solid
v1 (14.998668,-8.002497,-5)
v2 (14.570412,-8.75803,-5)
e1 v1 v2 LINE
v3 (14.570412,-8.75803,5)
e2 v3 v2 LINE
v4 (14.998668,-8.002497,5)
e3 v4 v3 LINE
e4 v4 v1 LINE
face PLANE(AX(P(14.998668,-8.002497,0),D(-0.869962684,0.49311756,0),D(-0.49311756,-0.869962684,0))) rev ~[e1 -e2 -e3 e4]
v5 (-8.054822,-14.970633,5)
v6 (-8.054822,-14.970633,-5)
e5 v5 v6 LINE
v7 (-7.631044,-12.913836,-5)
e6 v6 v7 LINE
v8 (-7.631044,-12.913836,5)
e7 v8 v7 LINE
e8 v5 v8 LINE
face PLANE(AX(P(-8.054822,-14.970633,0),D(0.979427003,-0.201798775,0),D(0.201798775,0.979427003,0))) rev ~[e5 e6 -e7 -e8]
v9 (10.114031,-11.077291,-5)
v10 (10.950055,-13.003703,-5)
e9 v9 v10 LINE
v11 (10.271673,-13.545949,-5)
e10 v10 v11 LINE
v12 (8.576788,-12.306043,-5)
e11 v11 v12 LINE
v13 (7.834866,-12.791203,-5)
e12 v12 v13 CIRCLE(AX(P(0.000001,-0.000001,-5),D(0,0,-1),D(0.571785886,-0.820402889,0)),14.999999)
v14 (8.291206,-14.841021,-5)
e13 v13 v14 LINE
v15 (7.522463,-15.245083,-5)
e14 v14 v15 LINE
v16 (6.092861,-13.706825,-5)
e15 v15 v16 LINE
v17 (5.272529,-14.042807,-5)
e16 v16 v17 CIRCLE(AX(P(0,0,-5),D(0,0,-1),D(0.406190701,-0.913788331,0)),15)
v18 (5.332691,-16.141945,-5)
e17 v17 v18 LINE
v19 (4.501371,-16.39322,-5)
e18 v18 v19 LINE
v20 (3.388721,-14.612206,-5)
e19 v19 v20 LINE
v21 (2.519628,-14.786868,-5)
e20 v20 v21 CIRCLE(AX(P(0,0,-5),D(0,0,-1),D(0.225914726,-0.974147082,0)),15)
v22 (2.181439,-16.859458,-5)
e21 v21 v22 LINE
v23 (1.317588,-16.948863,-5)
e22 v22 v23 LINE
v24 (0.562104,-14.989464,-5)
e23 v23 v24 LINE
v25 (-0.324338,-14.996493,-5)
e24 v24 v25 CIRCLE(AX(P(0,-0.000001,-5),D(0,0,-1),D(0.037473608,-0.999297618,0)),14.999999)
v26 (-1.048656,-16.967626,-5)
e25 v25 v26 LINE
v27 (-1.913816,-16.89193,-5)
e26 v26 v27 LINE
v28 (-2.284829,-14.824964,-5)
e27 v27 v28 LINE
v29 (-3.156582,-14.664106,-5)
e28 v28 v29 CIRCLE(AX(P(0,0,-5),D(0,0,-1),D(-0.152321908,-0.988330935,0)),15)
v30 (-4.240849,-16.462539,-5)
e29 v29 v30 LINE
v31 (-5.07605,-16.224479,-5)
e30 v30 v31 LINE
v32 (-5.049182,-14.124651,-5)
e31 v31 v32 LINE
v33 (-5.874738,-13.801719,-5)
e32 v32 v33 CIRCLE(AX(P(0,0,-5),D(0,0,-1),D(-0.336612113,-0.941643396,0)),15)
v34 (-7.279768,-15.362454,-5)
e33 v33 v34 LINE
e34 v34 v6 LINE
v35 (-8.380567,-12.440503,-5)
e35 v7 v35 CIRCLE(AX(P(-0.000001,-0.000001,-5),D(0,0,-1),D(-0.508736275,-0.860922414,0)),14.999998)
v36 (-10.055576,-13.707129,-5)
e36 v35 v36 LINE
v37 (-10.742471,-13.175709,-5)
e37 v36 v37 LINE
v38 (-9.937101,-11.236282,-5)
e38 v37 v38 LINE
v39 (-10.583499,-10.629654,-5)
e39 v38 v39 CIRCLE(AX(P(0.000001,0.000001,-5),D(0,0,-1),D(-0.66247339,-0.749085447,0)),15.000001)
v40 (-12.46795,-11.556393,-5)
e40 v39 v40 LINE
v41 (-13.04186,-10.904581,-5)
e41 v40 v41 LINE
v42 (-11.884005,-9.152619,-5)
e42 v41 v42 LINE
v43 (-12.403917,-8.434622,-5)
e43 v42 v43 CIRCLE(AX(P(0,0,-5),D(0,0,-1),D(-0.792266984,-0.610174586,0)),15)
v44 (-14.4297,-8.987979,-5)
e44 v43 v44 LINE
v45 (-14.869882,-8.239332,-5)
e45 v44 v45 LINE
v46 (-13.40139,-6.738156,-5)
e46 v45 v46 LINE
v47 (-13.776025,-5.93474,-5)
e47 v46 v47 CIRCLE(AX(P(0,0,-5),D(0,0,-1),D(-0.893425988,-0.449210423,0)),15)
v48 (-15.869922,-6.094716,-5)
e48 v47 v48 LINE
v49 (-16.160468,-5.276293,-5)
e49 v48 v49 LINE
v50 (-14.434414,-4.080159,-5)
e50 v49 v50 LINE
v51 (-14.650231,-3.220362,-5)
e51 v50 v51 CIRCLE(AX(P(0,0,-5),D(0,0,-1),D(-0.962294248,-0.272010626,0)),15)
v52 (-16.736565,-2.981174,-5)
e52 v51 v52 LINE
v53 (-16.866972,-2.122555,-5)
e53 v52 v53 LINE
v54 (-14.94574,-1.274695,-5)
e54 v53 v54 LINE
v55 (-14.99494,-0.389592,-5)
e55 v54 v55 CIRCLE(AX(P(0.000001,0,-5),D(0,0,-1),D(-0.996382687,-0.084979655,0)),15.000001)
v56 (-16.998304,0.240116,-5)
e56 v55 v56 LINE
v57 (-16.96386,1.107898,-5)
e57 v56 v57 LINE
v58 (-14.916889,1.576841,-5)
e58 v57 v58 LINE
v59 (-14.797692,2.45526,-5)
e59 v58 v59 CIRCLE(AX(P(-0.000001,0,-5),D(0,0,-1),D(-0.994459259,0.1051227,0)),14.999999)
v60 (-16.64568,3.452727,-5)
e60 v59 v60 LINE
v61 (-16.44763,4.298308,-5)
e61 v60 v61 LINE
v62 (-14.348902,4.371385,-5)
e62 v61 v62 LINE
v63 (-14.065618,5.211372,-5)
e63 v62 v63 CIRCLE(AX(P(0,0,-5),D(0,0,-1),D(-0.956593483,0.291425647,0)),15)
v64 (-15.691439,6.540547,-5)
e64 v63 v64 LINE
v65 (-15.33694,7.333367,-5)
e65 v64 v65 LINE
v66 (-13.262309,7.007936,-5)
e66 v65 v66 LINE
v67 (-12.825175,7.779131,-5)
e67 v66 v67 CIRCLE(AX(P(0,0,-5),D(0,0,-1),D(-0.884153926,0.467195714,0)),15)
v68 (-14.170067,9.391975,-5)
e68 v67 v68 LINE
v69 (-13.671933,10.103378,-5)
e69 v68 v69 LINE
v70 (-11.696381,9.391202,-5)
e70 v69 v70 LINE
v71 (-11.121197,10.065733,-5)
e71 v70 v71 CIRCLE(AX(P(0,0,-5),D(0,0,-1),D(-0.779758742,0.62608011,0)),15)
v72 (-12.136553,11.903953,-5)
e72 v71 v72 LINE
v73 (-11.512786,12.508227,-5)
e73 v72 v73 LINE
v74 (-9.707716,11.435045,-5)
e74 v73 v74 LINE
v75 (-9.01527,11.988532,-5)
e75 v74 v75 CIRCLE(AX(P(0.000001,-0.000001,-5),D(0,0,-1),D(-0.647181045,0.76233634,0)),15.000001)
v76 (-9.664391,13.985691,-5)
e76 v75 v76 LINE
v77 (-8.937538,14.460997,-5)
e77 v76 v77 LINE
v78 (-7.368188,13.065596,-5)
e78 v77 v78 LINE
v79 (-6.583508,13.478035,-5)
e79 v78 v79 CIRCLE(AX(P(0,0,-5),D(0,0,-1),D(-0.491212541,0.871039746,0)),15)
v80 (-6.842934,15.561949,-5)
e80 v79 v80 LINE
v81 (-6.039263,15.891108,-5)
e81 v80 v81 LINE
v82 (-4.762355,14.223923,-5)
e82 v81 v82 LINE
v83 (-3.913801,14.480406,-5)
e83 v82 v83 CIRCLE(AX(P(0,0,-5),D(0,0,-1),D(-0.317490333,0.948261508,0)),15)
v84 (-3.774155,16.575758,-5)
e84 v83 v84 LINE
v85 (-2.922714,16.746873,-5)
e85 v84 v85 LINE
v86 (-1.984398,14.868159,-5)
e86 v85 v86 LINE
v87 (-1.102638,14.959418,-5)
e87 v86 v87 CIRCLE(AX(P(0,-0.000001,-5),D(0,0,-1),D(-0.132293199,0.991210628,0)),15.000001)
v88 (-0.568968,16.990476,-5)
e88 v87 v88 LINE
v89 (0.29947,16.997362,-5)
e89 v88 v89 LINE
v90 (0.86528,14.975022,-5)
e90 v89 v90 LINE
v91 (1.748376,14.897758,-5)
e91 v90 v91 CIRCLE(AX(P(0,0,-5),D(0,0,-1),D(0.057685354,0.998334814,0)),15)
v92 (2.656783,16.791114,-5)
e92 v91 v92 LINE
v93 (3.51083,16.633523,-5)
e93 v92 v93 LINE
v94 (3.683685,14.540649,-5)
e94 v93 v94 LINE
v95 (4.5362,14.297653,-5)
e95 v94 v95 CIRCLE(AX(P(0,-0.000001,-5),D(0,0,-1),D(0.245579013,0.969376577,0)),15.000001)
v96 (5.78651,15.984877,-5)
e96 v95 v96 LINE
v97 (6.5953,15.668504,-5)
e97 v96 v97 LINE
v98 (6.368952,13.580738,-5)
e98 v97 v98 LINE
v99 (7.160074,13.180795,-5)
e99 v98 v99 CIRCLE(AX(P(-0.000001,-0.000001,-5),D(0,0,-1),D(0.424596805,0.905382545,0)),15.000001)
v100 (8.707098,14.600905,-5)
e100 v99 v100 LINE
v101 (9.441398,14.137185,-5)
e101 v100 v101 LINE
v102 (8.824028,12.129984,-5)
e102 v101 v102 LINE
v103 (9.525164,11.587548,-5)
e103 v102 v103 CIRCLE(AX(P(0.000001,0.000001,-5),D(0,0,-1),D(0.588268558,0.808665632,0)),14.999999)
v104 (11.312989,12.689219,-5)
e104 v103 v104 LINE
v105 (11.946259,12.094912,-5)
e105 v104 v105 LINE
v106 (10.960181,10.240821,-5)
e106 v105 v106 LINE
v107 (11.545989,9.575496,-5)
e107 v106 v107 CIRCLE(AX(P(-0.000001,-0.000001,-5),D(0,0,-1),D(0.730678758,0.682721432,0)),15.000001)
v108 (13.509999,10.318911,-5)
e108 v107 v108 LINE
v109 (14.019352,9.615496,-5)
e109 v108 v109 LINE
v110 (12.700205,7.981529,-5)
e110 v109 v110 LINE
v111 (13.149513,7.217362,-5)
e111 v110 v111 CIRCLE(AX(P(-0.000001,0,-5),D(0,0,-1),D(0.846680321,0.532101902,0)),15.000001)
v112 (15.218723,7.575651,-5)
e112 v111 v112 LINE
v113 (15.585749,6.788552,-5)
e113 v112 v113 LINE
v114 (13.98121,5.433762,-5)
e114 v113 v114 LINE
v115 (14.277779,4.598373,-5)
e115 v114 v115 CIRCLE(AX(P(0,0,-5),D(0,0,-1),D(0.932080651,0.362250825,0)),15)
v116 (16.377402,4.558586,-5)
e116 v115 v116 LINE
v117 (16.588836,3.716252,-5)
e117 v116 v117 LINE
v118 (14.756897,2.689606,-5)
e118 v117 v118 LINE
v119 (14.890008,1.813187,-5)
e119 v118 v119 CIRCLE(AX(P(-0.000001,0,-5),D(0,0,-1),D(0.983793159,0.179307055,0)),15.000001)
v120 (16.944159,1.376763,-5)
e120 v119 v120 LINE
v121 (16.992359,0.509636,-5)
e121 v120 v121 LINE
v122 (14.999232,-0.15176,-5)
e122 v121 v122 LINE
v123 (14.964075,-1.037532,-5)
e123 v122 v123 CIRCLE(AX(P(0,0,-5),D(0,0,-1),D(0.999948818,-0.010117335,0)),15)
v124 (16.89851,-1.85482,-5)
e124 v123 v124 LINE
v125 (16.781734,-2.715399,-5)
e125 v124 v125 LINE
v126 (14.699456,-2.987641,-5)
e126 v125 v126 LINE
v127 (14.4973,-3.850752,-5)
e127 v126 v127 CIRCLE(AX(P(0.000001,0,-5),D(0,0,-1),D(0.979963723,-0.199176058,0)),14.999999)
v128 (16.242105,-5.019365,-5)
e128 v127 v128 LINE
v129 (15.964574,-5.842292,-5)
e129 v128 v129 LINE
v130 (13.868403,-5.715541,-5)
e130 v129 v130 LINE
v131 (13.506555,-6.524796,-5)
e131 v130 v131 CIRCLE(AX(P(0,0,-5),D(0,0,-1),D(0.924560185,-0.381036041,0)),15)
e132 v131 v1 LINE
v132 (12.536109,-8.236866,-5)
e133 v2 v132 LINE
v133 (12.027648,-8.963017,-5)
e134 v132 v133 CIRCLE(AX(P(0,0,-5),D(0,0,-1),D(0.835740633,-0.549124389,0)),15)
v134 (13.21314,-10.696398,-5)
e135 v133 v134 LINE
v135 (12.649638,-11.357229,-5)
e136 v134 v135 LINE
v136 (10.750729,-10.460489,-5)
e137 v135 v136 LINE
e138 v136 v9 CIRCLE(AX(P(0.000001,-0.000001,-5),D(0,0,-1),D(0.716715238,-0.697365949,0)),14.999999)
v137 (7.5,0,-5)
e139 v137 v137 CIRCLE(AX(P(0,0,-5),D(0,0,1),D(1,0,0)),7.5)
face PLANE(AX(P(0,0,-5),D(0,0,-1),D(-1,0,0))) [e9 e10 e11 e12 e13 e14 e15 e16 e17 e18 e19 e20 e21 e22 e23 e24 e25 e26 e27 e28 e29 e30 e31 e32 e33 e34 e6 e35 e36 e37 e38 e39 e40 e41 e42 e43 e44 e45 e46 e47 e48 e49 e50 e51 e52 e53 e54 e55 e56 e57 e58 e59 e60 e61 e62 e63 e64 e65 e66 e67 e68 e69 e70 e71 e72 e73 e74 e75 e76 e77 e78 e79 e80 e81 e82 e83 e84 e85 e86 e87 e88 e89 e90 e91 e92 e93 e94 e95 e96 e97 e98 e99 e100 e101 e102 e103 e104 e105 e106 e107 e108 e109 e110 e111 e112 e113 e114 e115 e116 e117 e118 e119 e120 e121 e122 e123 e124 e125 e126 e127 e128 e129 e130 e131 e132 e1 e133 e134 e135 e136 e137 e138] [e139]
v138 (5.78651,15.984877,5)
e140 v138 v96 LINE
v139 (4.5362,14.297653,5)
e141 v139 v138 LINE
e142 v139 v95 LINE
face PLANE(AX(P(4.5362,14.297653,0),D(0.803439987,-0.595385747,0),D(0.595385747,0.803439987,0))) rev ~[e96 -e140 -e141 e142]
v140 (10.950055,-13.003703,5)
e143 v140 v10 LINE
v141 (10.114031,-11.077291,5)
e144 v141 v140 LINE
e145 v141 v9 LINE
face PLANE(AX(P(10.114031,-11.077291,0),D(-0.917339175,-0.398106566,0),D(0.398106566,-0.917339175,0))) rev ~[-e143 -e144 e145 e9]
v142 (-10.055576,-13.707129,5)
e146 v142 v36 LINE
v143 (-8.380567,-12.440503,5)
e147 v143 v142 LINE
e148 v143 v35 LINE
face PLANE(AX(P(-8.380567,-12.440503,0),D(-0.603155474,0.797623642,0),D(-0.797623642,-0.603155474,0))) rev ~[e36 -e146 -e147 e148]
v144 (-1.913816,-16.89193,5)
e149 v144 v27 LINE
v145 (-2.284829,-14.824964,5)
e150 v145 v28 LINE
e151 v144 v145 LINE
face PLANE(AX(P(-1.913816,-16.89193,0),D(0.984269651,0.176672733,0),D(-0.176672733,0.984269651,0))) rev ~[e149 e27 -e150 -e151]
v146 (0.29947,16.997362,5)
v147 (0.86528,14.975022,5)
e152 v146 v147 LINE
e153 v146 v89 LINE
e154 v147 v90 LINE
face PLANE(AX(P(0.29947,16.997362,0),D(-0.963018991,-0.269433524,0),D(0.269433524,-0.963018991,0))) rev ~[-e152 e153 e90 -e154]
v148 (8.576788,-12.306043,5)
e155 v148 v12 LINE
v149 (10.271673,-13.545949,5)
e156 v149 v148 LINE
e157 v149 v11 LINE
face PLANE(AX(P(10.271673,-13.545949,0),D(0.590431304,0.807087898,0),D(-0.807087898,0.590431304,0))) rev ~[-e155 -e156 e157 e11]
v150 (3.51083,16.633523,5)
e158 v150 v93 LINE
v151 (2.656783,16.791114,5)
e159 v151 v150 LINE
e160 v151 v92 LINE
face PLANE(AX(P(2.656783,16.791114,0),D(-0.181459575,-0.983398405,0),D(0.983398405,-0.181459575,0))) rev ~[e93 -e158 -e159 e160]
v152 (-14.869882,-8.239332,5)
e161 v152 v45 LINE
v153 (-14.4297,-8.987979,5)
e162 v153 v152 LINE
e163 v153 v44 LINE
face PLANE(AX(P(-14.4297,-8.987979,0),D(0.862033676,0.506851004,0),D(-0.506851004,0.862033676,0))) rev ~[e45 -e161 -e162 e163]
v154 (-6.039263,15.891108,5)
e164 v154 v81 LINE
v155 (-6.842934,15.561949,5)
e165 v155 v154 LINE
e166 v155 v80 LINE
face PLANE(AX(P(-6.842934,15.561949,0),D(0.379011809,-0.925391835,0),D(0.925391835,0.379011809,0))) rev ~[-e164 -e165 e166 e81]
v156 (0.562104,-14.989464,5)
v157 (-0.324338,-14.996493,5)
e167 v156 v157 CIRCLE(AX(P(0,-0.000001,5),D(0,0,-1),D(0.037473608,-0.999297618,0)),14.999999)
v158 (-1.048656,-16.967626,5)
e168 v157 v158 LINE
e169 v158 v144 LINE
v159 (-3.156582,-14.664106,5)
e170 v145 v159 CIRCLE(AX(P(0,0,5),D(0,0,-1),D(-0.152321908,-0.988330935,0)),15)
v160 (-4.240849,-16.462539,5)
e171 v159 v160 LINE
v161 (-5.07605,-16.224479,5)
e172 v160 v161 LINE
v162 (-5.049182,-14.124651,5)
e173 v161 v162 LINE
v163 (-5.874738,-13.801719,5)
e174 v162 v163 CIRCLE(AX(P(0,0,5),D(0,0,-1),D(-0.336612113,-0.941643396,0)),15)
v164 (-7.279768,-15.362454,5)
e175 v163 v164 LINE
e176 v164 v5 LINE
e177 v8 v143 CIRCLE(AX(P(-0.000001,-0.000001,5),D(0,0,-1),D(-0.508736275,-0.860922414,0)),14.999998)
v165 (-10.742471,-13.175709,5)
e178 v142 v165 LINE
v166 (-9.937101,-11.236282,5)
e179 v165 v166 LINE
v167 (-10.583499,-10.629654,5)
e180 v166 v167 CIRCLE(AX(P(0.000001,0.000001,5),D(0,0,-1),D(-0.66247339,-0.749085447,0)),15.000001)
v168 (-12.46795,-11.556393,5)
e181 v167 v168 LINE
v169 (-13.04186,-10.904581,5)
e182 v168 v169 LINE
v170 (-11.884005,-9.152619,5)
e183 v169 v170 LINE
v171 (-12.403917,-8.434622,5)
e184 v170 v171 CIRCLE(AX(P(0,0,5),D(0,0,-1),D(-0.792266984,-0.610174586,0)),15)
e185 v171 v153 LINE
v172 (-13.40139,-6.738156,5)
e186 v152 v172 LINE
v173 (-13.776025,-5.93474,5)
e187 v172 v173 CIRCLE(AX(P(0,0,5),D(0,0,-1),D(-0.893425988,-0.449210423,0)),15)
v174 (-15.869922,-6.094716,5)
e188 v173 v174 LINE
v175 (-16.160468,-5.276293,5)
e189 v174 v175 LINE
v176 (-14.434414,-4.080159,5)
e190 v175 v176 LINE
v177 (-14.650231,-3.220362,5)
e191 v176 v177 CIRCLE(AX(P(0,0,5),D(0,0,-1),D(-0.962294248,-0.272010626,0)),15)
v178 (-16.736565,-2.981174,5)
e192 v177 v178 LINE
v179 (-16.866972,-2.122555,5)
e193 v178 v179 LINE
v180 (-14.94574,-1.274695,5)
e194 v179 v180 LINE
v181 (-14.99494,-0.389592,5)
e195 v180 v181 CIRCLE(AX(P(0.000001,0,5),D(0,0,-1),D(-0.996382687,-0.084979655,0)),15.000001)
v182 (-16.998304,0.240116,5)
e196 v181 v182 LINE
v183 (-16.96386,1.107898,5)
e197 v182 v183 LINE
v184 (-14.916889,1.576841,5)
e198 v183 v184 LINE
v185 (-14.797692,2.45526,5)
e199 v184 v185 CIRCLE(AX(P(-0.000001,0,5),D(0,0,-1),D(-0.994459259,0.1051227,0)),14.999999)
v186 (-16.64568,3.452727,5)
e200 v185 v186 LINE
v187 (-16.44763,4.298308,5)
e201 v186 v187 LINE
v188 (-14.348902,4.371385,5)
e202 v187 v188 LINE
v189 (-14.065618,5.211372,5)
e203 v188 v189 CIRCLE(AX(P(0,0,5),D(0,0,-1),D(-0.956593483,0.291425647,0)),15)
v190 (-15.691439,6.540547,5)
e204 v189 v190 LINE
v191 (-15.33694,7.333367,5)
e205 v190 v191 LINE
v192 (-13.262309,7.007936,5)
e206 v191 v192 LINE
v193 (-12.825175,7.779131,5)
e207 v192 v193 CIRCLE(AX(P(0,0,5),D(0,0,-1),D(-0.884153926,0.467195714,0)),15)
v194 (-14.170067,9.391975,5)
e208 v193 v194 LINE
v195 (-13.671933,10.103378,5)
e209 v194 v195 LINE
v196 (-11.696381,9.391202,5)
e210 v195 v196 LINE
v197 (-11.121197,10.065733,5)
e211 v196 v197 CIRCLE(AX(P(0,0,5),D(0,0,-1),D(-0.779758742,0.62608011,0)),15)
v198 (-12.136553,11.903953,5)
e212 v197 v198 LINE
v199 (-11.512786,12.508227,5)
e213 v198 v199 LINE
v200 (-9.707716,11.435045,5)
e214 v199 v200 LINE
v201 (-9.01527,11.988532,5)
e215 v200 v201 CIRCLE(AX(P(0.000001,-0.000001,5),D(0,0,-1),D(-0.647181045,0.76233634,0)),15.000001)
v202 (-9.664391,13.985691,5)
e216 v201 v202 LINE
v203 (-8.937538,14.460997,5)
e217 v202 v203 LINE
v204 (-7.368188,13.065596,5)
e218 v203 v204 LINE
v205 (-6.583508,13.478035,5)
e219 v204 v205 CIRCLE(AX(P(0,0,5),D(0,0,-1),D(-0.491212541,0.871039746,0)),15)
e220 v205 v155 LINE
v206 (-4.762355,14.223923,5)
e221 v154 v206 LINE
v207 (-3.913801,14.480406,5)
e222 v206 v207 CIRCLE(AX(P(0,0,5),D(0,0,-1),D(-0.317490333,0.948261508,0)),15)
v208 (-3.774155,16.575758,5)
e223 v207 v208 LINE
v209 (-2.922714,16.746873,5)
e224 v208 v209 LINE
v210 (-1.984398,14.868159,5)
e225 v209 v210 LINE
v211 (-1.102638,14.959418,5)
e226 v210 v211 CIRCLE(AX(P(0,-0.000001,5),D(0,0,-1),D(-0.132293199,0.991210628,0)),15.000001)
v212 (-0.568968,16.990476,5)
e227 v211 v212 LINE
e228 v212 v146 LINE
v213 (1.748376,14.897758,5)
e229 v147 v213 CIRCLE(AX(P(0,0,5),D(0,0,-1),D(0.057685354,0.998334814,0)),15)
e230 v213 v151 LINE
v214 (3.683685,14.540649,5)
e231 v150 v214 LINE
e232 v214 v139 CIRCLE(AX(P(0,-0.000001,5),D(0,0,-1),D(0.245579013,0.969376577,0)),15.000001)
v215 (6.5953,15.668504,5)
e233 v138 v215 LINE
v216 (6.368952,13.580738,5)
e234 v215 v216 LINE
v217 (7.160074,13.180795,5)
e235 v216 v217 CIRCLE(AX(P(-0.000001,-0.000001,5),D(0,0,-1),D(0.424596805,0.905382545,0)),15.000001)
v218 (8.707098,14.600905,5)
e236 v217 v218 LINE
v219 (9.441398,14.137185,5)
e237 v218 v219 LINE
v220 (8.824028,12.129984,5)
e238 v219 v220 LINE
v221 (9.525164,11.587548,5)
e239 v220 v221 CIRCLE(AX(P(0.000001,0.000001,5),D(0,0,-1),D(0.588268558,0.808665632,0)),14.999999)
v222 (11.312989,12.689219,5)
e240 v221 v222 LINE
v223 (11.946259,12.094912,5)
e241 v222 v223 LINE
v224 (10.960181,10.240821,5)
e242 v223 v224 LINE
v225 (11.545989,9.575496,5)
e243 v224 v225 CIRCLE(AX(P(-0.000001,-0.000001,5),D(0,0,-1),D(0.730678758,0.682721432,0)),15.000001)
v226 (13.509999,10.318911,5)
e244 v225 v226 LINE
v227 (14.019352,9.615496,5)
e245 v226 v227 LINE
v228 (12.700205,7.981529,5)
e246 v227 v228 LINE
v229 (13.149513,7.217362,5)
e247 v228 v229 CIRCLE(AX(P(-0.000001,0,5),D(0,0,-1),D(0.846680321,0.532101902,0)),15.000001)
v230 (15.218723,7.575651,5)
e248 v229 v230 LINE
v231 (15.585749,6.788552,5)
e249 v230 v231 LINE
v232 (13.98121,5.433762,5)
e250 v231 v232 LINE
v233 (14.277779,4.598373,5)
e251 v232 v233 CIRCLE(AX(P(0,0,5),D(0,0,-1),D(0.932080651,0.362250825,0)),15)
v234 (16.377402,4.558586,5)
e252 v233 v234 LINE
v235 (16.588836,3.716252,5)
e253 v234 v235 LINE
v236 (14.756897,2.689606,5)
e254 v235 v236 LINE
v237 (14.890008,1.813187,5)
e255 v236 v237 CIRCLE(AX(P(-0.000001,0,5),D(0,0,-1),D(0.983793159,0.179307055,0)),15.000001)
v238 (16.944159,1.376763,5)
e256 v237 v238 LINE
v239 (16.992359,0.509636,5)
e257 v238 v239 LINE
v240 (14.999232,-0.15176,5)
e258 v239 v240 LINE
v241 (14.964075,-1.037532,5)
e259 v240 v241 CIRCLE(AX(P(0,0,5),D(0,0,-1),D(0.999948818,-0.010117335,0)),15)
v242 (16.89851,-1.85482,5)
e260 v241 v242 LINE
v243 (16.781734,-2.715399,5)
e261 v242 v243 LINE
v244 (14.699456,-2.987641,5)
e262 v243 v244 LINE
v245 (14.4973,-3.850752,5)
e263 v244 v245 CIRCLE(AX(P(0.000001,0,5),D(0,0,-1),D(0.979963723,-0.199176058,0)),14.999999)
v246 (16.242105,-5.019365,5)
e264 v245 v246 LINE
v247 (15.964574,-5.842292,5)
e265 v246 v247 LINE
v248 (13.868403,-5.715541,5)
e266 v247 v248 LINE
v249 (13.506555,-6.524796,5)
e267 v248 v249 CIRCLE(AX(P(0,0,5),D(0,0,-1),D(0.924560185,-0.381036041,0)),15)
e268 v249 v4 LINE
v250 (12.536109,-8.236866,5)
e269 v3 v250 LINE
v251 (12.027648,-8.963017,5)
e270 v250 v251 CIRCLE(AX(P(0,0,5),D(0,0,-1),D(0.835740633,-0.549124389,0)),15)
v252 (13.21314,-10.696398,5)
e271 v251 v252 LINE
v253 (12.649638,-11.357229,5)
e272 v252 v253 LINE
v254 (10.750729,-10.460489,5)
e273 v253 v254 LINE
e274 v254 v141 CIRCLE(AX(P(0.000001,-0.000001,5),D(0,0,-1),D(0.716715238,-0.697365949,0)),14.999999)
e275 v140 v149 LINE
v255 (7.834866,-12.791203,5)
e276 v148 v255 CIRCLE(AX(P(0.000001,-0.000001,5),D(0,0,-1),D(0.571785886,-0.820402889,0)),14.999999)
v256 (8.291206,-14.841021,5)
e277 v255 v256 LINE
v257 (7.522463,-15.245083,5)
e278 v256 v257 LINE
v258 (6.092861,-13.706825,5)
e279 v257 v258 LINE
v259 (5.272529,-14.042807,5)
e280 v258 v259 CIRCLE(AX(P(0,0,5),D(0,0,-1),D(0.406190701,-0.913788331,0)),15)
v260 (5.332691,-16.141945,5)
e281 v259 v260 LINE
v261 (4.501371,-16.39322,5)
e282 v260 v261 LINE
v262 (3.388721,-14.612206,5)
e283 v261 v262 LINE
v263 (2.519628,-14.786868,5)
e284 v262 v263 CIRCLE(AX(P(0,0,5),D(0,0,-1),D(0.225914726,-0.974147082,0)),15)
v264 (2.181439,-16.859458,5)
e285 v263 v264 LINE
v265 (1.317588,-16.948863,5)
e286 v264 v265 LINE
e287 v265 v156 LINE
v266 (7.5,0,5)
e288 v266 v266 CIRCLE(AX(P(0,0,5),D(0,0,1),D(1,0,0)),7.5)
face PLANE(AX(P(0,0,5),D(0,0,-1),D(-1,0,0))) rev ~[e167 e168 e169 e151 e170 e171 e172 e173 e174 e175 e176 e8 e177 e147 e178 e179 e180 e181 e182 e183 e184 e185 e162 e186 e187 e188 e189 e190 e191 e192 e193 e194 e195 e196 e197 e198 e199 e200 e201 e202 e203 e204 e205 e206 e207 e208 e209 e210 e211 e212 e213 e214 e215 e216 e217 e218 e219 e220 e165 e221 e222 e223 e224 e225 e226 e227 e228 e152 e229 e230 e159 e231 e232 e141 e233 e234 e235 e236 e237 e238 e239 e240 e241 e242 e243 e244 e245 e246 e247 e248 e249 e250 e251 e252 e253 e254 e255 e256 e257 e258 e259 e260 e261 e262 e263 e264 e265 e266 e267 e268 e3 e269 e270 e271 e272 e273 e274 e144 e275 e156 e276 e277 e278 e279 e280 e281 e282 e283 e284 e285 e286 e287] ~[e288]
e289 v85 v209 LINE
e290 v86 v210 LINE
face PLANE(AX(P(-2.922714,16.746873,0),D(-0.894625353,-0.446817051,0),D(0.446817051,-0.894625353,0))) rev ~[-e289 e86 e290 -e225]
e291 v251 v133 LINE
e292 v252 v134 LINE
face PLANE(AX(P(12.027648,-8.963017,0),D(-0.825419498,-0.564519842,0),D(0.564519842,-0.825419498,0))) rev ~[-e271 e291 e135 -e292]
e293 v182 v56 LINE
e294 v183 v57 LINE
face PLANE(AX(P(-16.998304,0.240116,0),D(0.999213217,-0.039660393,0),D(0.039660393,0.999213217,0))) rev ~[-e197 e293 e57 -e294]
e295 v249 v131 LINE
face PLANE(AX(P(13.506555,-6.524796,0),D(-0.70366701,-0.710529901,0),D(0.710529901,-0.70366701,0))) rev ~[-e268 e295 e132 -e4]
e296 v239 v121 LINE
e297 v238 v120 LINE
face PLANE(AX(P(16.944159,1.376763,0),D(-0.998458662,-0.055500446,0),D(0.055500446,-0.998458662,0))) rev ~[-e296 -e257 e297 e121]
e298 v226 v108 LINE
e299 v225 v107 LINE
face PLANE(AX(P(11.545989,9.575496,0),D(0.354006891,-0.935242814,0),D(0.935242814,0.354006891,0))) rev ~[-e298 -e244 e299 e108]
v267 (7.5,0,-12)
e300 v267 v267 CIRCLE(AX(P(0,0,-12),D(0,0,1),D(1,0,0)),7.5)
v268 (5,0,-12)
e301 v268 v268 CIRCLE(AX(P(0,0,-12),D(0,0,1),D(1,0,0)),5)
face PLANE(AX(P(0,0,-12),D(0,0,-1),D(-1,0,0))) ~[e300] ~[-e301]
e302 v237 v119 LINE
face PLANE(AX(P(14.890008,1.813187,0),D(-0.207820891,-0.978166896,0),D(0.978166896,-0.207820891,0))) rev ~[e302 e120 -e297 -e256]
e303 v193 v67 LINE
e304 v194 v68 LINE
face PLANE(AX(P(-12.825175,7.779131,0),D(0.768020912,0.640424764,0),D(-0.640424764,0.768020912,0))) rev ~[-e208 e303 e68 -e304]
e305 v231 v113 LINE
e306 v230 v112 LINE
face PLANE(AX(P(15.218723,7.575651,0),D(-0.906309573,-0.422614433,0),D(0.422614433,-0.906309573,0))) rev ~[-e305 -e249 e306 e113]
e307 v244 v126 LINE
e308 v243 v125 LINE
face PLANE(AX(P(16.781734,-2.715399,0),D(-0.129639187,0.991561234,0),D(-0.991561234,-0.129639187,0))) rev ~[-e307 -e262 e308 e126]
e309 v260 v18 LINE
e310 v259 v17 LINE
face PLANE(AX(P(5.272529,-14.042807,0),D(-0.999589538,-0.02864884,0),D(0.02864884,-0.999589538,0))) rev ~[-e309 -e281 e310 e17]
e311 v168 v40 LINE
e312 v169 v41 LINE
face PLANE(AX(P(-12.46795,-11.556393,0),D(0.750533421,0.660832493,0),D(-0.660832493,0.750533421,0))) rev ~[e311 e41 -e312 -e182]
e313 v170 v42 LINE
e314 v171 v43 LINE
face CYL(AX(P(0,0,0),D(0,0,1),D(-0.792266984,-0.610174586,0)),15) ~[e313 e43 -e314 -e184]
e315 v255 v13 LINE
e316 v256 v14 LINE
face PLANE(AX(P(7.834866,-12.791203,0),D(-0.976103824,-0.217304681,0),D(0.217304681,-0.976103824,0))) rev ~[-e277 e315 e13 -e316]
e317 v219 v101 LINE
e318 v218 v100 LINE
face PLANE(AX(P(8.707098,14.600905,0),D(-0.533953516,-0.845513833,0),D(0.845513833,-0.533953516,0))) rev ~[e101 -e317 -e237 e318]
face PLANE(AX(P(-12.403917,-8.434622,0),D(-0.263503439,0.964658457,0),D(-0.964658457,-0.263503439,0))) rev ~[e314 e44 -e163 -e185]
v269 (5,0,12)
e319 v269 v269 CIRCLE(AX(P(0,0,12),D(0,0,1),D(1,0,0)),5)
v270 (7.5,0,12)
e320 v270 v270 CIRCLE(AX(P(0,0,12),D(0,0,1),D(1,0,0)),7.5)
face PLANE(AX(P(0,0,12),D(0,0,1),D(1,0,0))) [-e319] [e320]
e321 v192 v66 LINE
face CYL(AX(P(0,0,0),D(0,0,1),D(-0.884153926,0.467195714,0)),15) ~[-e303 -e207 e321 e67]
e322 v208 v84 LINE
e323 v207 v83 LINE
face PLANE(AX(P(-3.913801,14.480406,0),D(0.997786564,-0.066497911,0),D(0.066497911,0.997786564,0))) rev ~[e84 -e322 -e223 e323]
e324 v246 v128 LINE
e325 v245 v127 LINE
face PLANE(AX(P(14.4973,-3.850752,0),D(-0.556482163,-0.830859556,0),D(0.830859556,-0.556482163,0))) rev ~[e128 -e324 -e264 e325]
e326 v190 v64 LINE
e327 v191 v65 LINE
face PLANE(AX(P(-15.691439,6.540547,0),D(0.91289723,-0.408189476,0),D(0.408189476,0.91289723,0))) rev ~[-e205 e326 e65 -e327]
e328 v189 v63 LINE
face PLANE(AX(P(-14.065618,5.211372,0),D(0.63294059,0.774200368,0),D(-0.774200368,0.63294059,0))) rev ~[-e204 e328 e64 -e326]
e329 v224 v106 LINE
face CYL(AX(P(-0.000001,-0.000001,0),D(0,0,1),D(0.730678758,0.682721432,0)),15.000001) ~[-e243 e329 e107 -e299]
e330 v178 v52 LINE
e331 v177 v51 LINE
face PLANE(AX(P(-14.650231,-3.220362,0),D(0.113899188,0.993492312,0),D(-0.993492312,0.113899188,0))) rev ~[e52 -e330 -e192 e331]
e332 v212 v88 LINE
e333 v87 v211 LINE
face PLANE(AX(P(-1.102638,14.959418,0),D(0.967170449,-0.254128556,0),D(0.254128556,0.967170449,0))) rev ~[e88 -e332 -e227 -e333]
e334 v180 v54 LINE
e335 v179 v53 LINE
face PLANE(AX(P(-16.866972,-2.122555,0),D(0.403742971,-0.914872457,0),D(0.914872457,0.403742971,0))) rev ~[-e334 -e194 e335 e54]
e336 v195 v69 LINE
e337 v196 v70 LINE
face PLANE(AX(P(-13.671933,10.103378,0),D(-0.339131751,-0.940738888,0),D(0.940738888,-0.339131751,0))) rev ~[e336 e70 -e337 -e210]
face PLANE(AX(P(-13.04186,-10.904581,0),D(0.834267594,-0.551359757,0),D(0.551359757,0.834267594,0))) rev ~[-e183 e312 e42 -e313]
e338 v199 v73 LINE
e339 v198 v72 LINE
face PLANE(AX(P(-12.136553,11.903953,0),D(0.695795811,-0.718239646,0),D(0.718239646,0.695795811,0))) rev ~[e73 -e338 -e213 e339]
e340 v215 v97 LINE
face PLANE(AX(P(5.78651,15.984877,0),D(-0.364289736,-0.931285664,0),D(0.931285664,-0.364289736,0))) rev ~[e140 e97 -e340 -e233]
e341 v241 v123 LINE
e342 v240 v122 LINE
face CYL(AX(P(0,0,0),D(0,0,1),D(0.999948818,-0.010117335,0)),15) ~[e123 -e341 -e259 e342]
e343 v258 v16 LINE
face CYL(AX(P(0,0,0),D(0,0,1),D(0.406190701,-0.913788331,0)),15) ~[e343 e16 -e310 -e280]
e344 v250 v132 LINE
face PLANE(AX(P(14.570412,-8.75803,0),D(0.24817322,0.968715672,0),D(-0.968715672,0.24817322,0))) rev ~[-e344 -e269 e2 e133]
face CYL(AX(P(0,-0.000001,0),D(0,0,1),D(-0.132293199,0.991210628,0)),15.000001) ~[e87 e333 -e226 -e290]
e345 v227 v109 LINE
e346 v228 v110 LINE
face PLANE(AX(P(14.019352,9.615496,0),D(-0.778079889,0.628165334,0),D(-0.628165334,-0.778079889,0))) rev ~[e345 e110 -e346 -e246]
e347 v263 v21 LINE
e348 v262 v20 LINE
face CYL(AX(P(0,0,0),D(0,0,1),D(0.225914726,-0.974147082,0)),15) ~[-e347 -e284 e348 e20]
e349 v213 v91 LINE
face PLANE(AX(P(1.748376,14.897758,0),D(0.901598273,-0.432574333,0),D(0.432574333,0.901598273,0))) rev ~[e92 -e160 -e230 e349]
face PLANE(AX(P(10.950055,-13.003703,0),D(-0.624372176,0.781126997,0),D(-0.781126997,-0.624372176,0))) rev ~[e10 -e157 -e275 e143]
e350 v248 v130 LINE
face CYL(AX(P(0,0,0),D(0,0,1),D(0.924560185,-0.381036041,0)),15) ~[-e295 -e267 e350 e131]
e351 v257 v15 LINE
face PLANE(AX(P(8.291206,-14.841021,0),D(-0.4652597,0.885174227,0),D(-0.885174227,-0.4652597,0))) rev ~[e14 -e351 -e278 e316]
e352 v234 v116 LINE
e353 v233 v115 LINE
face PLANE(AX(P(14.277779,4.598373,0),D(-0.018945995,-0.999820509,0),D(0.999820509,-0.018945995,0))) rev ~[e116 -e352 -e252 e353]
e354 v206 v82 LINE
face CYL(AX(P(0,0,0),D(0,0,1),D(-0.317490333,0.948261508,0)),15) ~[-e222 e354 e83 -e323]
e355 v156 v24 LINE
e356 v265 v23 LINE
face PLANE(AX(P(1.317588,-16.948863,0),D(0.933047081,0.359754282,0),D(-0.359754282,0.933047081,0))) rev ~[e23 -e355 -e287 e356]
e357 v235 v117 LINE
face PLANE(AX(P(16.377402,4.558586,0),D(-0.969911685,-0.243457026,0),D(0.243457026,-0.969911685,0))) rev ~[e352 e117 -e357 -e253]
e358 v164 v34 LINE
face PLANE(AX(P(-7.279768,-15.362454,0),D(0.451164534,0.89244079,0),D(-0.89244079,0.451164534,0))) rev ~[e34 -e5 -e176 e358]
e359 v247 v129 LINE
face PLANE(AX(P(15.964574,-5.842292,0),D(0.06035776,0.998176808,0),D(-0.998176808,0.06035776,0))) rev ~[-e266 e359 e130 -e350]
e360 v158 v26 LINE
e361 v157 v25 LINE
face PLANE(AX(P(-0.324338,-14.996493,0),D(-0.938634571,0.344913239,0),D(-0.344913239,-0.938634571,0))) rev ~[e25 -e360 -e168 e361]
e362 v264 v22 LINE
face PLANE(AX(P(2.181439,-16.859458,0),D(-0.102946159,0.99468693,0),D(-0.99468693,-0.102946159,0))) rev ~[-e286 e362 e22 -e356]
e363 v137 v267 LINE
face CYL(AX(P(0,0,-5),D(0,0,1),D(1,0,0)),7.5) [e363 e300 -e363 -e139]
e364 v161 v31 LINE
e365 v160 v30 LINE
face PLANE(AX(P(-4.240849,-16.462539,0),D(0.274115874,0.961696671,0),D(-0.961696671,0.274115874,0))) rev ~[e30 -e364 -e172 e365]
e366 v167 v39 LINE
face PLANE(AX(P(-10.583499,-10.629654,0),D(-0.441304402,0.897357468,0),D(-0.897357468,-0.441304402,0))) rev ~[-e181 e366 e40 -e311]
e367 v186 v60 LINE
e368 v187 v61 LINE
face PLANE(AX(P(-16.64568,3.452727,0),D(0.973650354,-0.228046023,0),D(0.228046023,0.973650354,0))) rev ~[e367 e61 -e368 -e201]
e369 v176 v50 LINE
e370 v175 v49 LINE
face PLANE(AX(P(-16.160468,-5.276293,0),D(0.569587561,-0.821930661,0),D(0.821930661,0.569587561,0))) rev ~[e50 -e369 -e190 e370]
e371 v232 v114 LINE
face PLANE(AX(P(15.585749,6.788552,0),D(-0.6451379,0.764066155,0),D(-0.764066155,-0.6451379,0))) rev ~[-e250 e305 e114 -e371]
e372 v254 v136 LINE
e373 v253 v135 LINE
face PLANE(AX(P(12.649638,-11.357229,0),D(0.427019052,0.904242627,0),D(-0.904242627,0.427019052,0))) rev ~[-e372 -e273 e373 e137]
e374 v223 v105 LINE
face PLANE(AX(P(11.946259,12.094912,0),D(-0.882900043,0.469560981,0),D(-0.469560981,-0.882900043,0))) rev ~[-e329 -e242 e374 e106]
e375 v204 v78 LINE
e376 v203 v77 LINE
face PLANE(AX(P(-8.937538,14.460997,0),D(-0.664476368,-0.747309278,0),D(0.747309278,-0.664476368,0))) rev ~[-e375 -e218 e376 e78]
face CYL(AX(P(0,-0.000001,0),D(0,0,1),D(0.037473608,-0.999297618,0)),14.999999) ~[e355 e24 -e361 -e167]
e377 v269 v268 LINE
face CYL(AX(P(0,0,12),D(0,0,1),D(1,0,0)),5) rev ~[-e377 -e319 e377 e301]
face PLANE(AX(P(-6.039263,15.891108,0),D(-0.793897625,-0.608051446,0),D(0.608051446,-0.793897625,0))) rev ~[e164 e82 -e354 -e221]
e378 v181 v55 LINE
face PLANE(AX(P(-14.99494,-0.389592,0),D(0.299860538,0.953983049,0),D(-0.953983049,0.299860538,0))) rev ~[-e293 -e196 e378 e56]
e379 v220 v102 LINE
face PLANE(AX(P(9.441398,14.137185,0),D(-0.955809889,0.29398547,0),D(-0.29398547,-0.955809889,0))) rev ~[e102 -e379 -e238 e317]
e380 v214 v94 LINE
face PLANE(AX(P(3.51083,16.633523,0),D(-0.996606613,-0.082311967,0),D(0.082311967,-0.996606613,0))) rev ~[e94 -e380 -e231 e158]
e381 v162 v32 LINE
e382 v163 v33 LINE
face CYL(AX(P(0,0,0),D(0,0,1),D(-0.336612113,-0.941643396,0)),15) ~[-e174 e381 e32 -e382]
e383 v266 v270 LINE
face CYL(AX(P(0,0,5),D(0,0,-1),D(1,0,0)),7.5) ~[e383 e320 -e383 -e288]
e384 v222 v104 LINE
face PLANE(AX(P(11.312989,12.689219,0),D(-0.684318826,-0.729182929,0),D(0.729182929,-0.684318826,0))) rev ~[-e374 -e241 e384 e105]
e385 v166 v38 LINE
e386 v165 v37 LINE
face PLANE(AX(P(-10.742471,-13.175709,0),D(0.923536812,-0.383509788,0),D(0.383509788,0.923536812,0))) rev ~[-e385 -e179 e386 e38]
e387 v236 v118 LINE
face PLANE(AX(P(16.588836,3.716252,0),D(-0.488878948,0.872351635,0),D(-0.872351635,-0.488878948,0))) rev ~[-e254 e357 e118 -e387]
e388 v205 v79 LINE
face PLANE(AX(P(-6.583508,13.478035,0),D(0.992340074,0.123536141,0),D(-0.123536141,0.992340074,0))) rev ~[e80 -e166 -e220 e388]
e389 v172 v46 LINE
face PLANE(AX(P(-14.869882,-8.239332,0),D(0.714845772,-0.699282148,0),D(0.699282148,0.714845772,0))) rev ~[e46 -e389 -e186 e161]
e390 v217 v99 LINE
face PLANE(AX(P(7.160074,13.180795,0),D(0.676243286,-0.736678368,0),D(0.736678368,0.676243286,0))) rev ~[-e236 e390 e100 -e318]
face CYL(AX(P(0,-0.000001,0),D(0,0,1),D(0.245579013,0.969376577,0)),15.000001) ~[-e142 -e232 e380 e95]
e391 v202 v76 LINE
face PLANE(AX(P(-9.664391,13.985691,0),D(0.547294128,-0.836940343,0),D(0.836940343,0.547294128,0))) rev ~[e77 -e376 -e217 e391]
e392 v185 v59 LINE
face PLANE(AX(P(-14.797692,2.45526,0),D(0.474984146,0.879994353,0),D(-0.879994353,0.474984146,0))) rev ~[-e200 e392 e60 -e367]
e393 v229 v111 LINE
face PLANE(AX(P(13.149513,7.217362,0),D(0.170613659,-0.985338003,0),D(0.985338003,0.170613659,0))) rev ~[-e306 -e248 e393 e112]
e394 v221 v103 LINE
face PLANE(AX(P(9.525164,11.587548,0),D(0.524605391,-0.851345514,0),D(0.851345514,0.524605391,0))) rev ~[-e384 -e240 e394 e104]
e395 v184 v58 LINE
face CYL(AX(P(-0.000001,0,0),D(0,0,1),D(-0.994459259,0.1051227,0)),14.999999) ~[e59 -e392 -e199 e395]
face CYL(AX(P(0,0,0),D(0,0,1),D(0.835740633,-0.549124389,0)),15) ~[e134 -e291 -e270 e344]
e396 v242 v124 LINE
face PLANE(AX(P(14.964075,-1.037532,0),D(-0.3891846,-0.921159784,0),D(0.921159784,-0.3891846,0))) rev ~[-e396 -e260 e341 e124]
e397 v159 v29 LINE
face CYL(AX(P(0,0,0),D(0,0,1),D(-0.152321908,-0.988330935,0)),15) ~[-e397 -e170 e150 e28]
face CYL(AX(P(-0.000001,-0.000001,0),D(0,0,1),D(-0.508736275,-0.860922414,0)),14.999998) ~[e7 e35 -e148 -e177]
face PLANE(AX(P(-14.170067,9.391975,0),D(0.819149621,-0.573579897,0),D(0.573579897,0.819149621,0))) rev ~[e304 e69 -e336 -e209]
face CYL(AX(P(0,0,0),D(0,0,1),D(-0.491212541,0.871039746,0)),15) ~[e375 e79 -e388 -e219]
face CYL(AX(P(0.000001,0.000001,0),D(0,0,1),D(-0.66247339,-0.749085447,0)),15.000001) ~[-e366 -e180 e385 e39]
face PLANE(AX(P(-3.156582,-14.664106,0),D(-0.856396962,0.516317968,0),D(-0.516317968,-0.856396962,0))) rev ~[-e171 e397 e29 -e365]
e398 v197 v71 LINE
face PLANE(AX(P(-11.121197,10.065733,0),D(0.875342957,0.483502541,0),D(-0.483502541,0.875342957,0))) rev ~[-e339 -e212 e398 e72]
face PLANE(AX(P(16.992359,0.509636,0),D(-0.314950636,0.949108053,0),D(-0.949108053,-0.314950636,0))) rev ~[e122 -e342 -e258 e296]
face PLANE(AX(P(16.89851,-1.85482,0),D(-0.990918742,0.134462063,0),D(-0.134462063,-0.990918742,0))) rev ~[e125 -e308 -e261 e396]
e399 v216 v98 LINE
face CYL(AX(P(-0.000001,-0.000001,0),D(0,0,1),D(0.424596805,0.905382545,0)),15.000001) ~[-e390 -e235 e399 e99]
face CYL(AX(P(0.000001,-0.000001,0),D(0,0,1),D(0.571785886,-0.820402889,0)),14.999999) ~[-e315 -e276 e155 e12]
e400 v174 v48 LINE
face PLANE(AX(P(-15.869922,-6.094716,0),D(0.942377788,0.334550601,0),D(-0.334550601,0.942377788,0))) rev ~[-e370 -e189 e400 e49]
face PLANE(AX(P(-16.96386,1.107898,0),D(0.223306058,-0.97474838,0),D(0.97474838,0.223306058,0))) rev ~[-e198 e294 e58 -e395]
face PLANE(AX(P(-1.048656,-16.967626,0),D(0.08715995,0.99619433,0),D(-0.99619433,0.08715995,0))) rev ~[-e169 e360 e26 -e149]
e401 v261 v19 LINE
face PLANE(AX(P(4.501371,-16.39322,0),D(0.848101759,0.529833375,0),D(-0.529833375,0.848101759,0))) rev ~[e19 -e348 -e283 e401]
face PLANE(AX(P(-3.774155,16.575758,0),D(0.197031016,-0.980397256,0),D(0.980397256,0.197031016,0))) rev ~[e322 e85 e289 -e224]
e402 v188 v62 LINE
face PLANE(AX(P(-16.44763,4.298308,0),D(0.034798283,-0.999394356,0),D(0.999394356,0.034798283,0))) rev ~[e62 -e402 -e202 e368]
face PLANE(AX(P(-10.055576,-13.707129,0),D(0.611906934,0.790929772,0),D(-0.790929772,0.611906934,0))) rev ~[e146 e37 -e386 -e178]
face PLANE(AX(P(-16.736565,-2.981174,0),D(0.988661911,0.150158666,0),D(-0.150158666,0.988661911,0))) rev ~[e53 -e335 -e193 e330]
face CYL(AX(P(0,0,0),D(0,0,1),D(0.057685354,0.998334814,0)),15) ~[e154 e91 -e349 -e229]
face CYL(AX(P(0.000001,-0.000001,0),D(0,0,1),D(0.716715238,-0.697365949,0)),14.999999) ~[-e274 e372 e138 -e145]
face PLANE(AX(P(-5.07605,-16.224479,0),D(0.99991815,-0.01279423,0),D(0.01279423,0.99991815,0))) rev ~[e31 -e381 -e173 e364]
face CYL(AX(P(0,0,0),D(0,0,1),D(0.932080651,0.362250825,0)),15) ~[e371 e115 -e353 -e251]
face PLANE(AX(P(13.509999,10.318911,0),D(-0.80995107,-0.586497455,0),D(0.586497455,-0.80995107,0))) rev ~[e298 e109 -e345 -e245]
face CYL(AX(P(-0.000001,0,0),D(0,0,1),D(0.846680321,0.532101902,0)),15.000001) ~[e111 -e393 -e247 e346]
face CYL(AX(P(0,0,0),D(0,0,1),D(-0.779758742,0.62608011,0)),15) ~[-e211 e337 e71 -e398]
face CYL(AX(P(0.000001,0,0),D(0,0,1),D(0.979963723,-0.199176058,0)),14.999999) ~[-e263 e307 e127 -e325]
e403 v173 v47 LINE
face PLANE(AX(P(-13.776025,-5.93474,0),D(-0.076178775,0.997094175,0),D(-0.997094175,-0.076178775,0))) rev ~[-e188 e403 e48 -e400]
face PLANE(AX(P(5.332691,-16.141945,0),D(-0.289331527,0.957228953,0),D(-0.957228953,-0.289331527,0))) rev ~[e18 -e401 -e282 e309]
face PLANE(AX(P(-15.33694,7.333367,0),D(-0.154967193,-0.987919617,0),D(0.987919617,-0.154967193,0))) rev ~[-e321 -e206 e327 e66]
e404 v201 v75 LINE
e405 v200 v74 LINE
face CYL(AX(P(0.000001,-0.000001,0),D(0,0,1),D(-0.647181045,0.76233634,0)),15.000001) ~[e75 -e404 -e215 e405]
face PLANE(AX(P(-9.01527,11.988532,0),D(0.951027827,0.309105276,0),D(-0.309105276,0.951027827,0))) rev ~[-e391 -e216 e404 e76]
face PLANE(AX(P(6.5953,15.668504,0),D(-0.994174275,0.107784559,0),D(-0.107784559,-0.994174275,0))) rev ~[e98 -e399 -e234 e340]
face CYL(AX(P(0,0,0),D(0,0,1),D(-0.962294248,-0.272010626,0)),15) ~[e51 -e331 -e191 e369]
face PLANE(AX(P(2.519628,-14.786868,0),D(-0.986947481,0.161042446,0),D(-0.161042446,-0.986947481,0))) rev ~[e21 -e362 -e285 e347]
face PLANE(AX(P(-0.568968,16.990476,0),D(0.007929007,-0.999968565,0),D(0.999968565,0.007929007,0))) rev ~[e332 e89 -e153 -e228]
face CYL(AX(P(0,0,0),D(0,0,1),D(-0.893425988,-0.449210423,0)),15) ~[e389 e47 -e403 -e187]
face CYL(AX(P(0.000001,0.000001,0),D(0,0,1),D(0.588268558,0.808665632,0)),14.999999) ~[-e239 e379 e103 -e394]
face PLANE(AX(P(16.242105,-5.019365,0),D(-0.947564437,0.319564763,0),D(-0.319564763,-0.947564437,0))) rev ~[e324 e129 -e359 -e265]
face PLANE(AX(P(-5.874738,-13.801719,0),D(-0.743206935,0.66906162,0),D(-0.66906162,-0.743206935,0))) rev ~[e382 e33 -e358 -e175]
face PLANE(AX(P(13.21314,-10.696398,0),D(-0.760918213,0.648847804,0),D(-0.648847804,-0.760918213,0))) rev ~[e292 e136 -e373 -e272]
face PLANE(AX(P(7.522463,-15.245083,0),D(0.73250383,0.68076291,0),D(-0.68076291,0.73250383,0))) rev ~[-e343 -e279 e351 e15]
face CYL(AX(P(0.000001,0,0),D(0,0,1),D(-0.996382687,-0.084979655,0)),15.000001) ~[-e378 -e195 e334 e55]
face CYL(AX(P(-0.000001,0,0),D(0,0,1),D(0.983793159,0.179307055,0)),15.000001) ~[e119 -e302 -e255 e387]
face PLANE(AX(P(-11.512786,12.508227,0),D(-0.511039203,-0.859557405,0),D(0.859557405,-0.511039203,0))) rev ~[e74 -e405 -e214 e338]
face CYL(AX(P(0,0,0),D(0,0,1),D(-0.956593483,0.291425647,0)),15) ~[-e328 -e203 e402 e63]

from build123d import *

# Parameters (mm, degrees)
BOSS_EXTRUDE1_DEPTH     = 5
SKETCH2_R               = 7.5
BOSS_EXTRUDE2_DEPTH     = 7
SKETCH3_R               = 5
CUT_EXTRUDE1_DEPTH      = 1
CUT_EXTRUDE1_DEPTH_BACK = 25


with BuildPart() as part:
    # Sketch1 → Boss-Extrude1 (new body, symmetric)
    with BuildSketch(Plane.XY):
        with BuildLine():
            Line((-1.102638188, 14.959418071), (-0.56896822, 16.990476013))
            Line((-0.56896822, 16.990476013), (0.299469927, 16.997362082))
            Line((0.299469927, 16.997362082), (0.865280327, 14.975022202))
            ThreePointArc((0.865280327, 14.975022202), (1.307399264, 14.942914949), (1.748376405, 14.897757548))
            Line((1.748376405, 14.897757548), (2.656782505, 16.791113921))
            Line((2.656782505, 16.791113921), (3.51083004, 16.63352255))
            Line((3.51083004, 16.63352255), (3.68368517, 14.540648664))
            ThreePointArc((3.68368517, 14.540648664), (4.111738104, 14.425450071), (4.53620012, 14.29765325))
            Line((4.53620012, 14.29765325), (5.786510188, 15.984877223))
            Line((5.786510188, 15.984877223), (6.595299608, 15.668504175))
            Line((6.595299608, 15.668504175), (6.368952034, 13.580738198))
            ThreePointArc((6.368952034, 13.580738198), (6.767468017, 13.386611843), (7.160073744, 13.180794513))
            Line((7.160073744, 13.180794513), (8.707098316, 14.600905414))
            Line((8.707098316, 14.600905414), (9.441397865, 14.137185235))
            Line((9.441397865, 14.137185235), (8.824028377, 12.129984469))
            ThreePointArc((8.824028377, 12.129984469), (9.178604003, 11.863946585), (9.525163646, 11.587547519))
            Line((9.525163646, 11.587547519), (11.312989225, 12.689218841))
            Line((11.312989225, 12.689218841), (11.946259403, 12.094911586))
            Line((11.946259403, 12.094911586), (10.960181343, 10.240821497))
            ThreePointArc((10.960181343, 10.240821497), (11.258001325, 9.912487385), (11.545989318, 9.575496367))
            Line((11.545989318, 9.575496367), (13.509999227, 10.318910838))
            Line((13.509999227, 10.318910838), (14.019352001, 9.61549632))
            Line((14.019352001, 9.61549632), (12.7002048, 7.981528553))
            ThreePointArc((12.7002048, 7.981528553), (12.930505147, 7.602765065), (13.149512852, 7.217361828))
            Line((13.149512852, 7.217361828), (15.218722658, 7.575650511))
            Line((15.218722658, 7.575650511), (15.58574869, 6.788551963))
            Line((15.58574869, 6.788551963), (13.981209764, 5.433762373))
            ThreePointArc((13.981209764, 5.433762373), (14.135666823, 5.018259007), (14.277778731, 4.598373027))
            Line((14.277778731, 4.598373027), (16.377401799, 4.558586437))
            Line((16.377401799, 4.558586437), (16.588835814, 3.716251652))
            Line((16.588835814, 3.716251652), (14.756897381, 2.689605862))
            ThreePointArc((14.756897381, 2.689605862), (14.82992867, 2.252379993), (14.890008487, 1.813187044))
            Line((14.890008487, 1.813187044), (16.944158969, 1.376763172))
            Line((16.944158969, 1.376763172), (16.992359189, 0.509636323))
            Line((16.992359189, 0.509636323), (14.999232277, -0.151760012))
            ThreePointArc((14.999232277, -0.151760012), (14.988198256, -0.594905903), (14.96407454, -1.037532242))
            Line((14.96407454, -1.037532242), (16.898510086, -1.854819902))
            Line((16.898510086, -1.854819902), (16.78173443, -2.715398591))
            Line((16.78173443, -2.715398591), (14.699455839, -2.987640883))
            ThreePointArc((14.699455839, -2.987640883), (14.604755306, -3.420690349), (14.497299951, -3.85075241))
            Line((14.497299951, -3.85075241), (16.24210502, -5.019364952))
            Line((16.24210502, -5.019364952), (15.964574065, -5.842291924))
            Line((15.964574065, -5.842291924), (13.868402767, -5.715540629))
            ThreePointArc((13.868402767, -5.715540629), (13.693458446, -6.122842133), (13.506555169, -6.524796354))
            Line((13.506555169, -6.524796354), (14.99866796, -8.002497074))
            Line((14.99866796, -8.002497074), (14.570412397, -8.758029606))
            Line((14.570412397, -8.758029606), (12.536109486, -8.236865845))
            ThreePointArc((12.536109486, -8.236865845), (12.28724432, -8.60369845), (12.027648293, -8.963017156))
            Line((12.027648293, -8.963017156), (13.213139961, -10.696398102))
            Line((13.213139961, -10.696398102), (12.649638063, -11.357229278))
            Line((12.649638063, -11.357229278), (10.750728545, -10.460489269))
            ThreePointArc((10.750728545, -10.460489269), (10.436937171, -10.773594688), (10.114030869, -11.077291166))
            Line((10.114030869, -11.077291166), (10.950054658, -13.003703433))
            Line((10.950054658, -13.003703433), (10.271672851, -13.545949094))
            Line((10.271672851, -13.545949094), (8.576788264, -12.306043355))
            ThreePointArc((8.576788264, -12.306043355), (8.209411919, -12.554105143), (7.834866018, -12.791203011))
            Line((7.834866018, -12.791203011), (8.291205849, -14.841021042))
            Line((8.291205849, -14.841021042), (7.522462619, -15.245083015))
            Line((7.522462619, -15.245083015), (6.092860509, -13.706824972))
            ThreePointArc((6.092860509, -13.706824972), (5.68517713, -13.88087753), (5.272528696, -14.042807453))
            Line((5.272528696, -14.042807453), (5.332691259, -16.141945482))
            Line((5.332691259, -16.141945482), (4.501370988, -16.393219916))
            Line((4.501370988, -16.393219916), (3.3887209, -14.612206222))
            ThreePointArc((3.3887209, -14.612206222), (2.955465228, -14.705958836), (2.519628449, -14.786868244))
            Line((2.519628449, -14.786868244), (2.181439312, -16.859457955))
            Line((2.181439312, -16.859457955), (1.317588082, -16.948863137))
            Line((1.317588082, -16.948863137), (0.562104089, -14.989464266))
            ThreePointArc((0.562104089, -14.989464266), (0.118935112, -14.999528474), (-0.324337735, -14.996493091))
            Line((-0.324337735, -14.996493091), (-1.048655536, -16.96762569))
            Line((-1.048655536, -16.96762569), (-1.91381589, -16.891930285))
            Line((-1.91381589, -16.891930285), (-2.284828629, -14.824964018))
            ThreePointArc((-2.284828629, -14.824964018), (-2.721893629, -14.750976072), (-3.156581508, -14.664105605))
            Line((-3.156581508, -14.664105605), (-4.24084924, -16.462539225))
            Line((-4.24084924, -16.462539225), (-5.07604957, -16.22447906))
            Line((-5.07604957, -16.22447906), (-5.049181687, -14.124650944))
            ThreePointArc((-5.049181687, -14.124650944), (-5.464346042, -13.969284961), (-5.874738201, -13.801719134))
            Line((-5.874738201, -13.801719134), (-7.279767603, -15.362453699))
            Line((-7.279767603, -15.362453699), (-8.054821592, -14.97063289))
            Line((-8.054821592, -14.97063289), (-7.631044164, -12.913836183))
            ThreePointArc((-7.631044164, -12.913836183), (-8.009302753, -12.682707496), (-8.380566549, -12.440502575))
            Line((-8.380566549, -12.440502575), (-10.055576198, -13.70712907))
            Line((-10.055576198, -13.70712907), (-10.742471376, -13.175709041))
            Line((-10.742471376, -13.175709041), (-9.937100822, -11.236281736))
            ThreePointArc((-9.937100822, -11.236281736), (-10.264782393, -10.937743936), (-10.583499387, -10.629653839))
            Line((-10.583499387, -10.629653839), (-12.467950069, -11.556393082))
            Line((-12.467950069, -11.556393082), (-13.041860255, -10.904580739))
            Line((-13.041860255, -10.904580739), (-11.884004765, -9.152618792))
            ThreePointArc((-11.884004765, -9.152618792), (-12.149266054, -8.797461813), (-12.403916981, -8.434621718))
            Line((-12.403916981, -8.434621718), (-14.42969974, -8.987978939))
            Line((-14.42969974, -8.987978939), (-14.869882324, -8.239332477))
            Line((-14.869882324, -8.239332477), (-13.401389813, -6.738156357))
            ThreePointArc((-13.401389813, -6.738156357), (-13.594643584, -6.339216499), (-13.776024698, -5.934740391))
            Line((-13.776024698, -5.934740391), (-15.869922466, -6.094715819))
            Line((-15.869922466, -6.094715819), (-16.160468103, -5.276293272))
            Line((-16.160468103, -5.276293272), (-14.434413716, -4.080159395))
            ThreePointArc((-14.434413716, -4.080159395), (-14.548675275, -3.651855384), (-14.650230989, -3.220362085))
            Line((-14.650230989, -3.220362085), (-16.736564846, -2.98117379))
            Line((-16.736564846, -2.98117379), (-16.866972459, -2.122555081))
            Line((-16.866972459, -2.122555081), (-14.945740298, -1.274694842))
            ThreePointArc((-14.945740298, -1.274694842), (-14.976879935, -0.8325067), (-14.994939762, -0.389591502))
            Line((-14.994939762, -0.389591502), (-16.998304165, 0.240115627))
            Line((-16.998304165, 0.240115627), (-16.963860484, 1.107897781))
            Line((-16.963860484, 1.107897781), (-14.916888886, 1.576840503))
            ThreePointArc((-14.916888886, 1.576840503), (-14.863781133, 2.016930945), (-14.797692342, 2.455259933))
            Line((-14.797692342, 2.455259933), (-16.645680483, 3.45272664))
            Line((-16.645680483, 3.45272664), (-16.447630392, 4.29830833))
            Line((-16.447630392, 4.29830833), (-14.348902243, 4.371384725))
            ThreePointArc((-14.348902243, 4.371384725), (-14.213466553, 4.793471451), (-14.065617767, 5.211371877))
            Line((-14.065617767, 5.211371877), (-15.691438539, 6.540547117))
            Line((-15.691438539, 6.540547117), (-15.336940083, 7.333366818))
            Line((-15.336940083, 7.333366818), (-13.262308888, 7.007935713))
            ThreePointArc((-13.262308888, 7.007935713), (-13.049440259, 7.396763409), (-12.825175117, 7.779131264))
            Line((-12.825175117, 7.779131264), (-14.170067122, 9.391975179))
            Line((-14.170067122, 9.391975179), (-13.6719328, 10.103378321))
            Line((-13.6719328, 10.103378321), (-11.696381135, 9.391201645))
            ThreePointArc((-11.696381135, 9.391201645), (-11.413773194, 9.732717065), (-11.121197223, 10.065732577))
            Line((-11.121197223, 10.065732577), (-12.136552559, 11.903952788))
            Line((-12.136552559, 11.903952788), (-11.512786244, 12.508227408))
            Line((-11.512786244, 12.508227408), (-9.707715693, 11.435045082))
            ThreePointArc((-9.707715693, 11.435045082), (-9.365582628, 11.716904968), (-9.015270286, 11.98853209))
            Line((-9.015270286, 11.98853209), (-9.664391366, 13.985690527))
            Line((-9.664391366, 13.985690527), (-8.937537597, 14.460996567))
            Line((-8.937537597, 14.460996567), (-7.368188113, 13.065596195))
            ThreePointArc((-7.368188113, 13.065596195), (-6.978895504, 13.277613398), (-6.583507991, 13.478034817))
            Line((-6.583507991, 13.478034817), (-6.842933888, 15.561948972))
            Line((-6.842933888, 15.561948972), (-6.039263054, 15.891107632))
            Line((-6.039263054, 15.891107632), (-4.762355017, 14.22392262))
            ThreePointArc((-4.762355017, 14.22392262), (-4.339972912, 14.358434285), (-3.913800564, 14.480406249))
            Line((-3.913800564, 14.480406249), (-3.774154951, 16.575758034))
            Line((-3.774154951, 16.575758034), (-2.92271381, 16.746872663))
            Line((-2.92271381, 16.746872663), (-1.984398002, 14.868159421))
            ThreePointArc((-1.984398002, 14.868159421), (-1.544192393, 14.920303946), (-1.102638188, 14.959418071))
        make_face()
    extrude(amount=BOSS_EXTRUDE1_DEPTH, both=True)

    # Sketch2 → Boss-Extrude2 (add)
    with BuildSketch(Plane.XY.offset(5)):
        Circle(SKETCH2_R)
    boss_extrude2 = extrude(amount=BOSS_EXTRUDE2_DEPTH)

    # Mirror1: Boss-Extrude2 across plane
    add(boss_extrude2.mirror(Plane.XY))

    # Sketch3 → Cut-Extrude1 (cut, two sides)
    with BuildSketch(Plane.XY.offset(12)) as cut_extrude1_sk:
        Circle(SKETCH3_R)
    extrude(amount=CUT_EXTRUDE1_DEPTH, mode=Mode.SUBTRACT)
    extrude(cut_extrude1_sk.sketch, amount=-CUT_EXTRUDE1_DEPTH_BACK, mode=Mode.SUBTRACT)


solid = part.part
